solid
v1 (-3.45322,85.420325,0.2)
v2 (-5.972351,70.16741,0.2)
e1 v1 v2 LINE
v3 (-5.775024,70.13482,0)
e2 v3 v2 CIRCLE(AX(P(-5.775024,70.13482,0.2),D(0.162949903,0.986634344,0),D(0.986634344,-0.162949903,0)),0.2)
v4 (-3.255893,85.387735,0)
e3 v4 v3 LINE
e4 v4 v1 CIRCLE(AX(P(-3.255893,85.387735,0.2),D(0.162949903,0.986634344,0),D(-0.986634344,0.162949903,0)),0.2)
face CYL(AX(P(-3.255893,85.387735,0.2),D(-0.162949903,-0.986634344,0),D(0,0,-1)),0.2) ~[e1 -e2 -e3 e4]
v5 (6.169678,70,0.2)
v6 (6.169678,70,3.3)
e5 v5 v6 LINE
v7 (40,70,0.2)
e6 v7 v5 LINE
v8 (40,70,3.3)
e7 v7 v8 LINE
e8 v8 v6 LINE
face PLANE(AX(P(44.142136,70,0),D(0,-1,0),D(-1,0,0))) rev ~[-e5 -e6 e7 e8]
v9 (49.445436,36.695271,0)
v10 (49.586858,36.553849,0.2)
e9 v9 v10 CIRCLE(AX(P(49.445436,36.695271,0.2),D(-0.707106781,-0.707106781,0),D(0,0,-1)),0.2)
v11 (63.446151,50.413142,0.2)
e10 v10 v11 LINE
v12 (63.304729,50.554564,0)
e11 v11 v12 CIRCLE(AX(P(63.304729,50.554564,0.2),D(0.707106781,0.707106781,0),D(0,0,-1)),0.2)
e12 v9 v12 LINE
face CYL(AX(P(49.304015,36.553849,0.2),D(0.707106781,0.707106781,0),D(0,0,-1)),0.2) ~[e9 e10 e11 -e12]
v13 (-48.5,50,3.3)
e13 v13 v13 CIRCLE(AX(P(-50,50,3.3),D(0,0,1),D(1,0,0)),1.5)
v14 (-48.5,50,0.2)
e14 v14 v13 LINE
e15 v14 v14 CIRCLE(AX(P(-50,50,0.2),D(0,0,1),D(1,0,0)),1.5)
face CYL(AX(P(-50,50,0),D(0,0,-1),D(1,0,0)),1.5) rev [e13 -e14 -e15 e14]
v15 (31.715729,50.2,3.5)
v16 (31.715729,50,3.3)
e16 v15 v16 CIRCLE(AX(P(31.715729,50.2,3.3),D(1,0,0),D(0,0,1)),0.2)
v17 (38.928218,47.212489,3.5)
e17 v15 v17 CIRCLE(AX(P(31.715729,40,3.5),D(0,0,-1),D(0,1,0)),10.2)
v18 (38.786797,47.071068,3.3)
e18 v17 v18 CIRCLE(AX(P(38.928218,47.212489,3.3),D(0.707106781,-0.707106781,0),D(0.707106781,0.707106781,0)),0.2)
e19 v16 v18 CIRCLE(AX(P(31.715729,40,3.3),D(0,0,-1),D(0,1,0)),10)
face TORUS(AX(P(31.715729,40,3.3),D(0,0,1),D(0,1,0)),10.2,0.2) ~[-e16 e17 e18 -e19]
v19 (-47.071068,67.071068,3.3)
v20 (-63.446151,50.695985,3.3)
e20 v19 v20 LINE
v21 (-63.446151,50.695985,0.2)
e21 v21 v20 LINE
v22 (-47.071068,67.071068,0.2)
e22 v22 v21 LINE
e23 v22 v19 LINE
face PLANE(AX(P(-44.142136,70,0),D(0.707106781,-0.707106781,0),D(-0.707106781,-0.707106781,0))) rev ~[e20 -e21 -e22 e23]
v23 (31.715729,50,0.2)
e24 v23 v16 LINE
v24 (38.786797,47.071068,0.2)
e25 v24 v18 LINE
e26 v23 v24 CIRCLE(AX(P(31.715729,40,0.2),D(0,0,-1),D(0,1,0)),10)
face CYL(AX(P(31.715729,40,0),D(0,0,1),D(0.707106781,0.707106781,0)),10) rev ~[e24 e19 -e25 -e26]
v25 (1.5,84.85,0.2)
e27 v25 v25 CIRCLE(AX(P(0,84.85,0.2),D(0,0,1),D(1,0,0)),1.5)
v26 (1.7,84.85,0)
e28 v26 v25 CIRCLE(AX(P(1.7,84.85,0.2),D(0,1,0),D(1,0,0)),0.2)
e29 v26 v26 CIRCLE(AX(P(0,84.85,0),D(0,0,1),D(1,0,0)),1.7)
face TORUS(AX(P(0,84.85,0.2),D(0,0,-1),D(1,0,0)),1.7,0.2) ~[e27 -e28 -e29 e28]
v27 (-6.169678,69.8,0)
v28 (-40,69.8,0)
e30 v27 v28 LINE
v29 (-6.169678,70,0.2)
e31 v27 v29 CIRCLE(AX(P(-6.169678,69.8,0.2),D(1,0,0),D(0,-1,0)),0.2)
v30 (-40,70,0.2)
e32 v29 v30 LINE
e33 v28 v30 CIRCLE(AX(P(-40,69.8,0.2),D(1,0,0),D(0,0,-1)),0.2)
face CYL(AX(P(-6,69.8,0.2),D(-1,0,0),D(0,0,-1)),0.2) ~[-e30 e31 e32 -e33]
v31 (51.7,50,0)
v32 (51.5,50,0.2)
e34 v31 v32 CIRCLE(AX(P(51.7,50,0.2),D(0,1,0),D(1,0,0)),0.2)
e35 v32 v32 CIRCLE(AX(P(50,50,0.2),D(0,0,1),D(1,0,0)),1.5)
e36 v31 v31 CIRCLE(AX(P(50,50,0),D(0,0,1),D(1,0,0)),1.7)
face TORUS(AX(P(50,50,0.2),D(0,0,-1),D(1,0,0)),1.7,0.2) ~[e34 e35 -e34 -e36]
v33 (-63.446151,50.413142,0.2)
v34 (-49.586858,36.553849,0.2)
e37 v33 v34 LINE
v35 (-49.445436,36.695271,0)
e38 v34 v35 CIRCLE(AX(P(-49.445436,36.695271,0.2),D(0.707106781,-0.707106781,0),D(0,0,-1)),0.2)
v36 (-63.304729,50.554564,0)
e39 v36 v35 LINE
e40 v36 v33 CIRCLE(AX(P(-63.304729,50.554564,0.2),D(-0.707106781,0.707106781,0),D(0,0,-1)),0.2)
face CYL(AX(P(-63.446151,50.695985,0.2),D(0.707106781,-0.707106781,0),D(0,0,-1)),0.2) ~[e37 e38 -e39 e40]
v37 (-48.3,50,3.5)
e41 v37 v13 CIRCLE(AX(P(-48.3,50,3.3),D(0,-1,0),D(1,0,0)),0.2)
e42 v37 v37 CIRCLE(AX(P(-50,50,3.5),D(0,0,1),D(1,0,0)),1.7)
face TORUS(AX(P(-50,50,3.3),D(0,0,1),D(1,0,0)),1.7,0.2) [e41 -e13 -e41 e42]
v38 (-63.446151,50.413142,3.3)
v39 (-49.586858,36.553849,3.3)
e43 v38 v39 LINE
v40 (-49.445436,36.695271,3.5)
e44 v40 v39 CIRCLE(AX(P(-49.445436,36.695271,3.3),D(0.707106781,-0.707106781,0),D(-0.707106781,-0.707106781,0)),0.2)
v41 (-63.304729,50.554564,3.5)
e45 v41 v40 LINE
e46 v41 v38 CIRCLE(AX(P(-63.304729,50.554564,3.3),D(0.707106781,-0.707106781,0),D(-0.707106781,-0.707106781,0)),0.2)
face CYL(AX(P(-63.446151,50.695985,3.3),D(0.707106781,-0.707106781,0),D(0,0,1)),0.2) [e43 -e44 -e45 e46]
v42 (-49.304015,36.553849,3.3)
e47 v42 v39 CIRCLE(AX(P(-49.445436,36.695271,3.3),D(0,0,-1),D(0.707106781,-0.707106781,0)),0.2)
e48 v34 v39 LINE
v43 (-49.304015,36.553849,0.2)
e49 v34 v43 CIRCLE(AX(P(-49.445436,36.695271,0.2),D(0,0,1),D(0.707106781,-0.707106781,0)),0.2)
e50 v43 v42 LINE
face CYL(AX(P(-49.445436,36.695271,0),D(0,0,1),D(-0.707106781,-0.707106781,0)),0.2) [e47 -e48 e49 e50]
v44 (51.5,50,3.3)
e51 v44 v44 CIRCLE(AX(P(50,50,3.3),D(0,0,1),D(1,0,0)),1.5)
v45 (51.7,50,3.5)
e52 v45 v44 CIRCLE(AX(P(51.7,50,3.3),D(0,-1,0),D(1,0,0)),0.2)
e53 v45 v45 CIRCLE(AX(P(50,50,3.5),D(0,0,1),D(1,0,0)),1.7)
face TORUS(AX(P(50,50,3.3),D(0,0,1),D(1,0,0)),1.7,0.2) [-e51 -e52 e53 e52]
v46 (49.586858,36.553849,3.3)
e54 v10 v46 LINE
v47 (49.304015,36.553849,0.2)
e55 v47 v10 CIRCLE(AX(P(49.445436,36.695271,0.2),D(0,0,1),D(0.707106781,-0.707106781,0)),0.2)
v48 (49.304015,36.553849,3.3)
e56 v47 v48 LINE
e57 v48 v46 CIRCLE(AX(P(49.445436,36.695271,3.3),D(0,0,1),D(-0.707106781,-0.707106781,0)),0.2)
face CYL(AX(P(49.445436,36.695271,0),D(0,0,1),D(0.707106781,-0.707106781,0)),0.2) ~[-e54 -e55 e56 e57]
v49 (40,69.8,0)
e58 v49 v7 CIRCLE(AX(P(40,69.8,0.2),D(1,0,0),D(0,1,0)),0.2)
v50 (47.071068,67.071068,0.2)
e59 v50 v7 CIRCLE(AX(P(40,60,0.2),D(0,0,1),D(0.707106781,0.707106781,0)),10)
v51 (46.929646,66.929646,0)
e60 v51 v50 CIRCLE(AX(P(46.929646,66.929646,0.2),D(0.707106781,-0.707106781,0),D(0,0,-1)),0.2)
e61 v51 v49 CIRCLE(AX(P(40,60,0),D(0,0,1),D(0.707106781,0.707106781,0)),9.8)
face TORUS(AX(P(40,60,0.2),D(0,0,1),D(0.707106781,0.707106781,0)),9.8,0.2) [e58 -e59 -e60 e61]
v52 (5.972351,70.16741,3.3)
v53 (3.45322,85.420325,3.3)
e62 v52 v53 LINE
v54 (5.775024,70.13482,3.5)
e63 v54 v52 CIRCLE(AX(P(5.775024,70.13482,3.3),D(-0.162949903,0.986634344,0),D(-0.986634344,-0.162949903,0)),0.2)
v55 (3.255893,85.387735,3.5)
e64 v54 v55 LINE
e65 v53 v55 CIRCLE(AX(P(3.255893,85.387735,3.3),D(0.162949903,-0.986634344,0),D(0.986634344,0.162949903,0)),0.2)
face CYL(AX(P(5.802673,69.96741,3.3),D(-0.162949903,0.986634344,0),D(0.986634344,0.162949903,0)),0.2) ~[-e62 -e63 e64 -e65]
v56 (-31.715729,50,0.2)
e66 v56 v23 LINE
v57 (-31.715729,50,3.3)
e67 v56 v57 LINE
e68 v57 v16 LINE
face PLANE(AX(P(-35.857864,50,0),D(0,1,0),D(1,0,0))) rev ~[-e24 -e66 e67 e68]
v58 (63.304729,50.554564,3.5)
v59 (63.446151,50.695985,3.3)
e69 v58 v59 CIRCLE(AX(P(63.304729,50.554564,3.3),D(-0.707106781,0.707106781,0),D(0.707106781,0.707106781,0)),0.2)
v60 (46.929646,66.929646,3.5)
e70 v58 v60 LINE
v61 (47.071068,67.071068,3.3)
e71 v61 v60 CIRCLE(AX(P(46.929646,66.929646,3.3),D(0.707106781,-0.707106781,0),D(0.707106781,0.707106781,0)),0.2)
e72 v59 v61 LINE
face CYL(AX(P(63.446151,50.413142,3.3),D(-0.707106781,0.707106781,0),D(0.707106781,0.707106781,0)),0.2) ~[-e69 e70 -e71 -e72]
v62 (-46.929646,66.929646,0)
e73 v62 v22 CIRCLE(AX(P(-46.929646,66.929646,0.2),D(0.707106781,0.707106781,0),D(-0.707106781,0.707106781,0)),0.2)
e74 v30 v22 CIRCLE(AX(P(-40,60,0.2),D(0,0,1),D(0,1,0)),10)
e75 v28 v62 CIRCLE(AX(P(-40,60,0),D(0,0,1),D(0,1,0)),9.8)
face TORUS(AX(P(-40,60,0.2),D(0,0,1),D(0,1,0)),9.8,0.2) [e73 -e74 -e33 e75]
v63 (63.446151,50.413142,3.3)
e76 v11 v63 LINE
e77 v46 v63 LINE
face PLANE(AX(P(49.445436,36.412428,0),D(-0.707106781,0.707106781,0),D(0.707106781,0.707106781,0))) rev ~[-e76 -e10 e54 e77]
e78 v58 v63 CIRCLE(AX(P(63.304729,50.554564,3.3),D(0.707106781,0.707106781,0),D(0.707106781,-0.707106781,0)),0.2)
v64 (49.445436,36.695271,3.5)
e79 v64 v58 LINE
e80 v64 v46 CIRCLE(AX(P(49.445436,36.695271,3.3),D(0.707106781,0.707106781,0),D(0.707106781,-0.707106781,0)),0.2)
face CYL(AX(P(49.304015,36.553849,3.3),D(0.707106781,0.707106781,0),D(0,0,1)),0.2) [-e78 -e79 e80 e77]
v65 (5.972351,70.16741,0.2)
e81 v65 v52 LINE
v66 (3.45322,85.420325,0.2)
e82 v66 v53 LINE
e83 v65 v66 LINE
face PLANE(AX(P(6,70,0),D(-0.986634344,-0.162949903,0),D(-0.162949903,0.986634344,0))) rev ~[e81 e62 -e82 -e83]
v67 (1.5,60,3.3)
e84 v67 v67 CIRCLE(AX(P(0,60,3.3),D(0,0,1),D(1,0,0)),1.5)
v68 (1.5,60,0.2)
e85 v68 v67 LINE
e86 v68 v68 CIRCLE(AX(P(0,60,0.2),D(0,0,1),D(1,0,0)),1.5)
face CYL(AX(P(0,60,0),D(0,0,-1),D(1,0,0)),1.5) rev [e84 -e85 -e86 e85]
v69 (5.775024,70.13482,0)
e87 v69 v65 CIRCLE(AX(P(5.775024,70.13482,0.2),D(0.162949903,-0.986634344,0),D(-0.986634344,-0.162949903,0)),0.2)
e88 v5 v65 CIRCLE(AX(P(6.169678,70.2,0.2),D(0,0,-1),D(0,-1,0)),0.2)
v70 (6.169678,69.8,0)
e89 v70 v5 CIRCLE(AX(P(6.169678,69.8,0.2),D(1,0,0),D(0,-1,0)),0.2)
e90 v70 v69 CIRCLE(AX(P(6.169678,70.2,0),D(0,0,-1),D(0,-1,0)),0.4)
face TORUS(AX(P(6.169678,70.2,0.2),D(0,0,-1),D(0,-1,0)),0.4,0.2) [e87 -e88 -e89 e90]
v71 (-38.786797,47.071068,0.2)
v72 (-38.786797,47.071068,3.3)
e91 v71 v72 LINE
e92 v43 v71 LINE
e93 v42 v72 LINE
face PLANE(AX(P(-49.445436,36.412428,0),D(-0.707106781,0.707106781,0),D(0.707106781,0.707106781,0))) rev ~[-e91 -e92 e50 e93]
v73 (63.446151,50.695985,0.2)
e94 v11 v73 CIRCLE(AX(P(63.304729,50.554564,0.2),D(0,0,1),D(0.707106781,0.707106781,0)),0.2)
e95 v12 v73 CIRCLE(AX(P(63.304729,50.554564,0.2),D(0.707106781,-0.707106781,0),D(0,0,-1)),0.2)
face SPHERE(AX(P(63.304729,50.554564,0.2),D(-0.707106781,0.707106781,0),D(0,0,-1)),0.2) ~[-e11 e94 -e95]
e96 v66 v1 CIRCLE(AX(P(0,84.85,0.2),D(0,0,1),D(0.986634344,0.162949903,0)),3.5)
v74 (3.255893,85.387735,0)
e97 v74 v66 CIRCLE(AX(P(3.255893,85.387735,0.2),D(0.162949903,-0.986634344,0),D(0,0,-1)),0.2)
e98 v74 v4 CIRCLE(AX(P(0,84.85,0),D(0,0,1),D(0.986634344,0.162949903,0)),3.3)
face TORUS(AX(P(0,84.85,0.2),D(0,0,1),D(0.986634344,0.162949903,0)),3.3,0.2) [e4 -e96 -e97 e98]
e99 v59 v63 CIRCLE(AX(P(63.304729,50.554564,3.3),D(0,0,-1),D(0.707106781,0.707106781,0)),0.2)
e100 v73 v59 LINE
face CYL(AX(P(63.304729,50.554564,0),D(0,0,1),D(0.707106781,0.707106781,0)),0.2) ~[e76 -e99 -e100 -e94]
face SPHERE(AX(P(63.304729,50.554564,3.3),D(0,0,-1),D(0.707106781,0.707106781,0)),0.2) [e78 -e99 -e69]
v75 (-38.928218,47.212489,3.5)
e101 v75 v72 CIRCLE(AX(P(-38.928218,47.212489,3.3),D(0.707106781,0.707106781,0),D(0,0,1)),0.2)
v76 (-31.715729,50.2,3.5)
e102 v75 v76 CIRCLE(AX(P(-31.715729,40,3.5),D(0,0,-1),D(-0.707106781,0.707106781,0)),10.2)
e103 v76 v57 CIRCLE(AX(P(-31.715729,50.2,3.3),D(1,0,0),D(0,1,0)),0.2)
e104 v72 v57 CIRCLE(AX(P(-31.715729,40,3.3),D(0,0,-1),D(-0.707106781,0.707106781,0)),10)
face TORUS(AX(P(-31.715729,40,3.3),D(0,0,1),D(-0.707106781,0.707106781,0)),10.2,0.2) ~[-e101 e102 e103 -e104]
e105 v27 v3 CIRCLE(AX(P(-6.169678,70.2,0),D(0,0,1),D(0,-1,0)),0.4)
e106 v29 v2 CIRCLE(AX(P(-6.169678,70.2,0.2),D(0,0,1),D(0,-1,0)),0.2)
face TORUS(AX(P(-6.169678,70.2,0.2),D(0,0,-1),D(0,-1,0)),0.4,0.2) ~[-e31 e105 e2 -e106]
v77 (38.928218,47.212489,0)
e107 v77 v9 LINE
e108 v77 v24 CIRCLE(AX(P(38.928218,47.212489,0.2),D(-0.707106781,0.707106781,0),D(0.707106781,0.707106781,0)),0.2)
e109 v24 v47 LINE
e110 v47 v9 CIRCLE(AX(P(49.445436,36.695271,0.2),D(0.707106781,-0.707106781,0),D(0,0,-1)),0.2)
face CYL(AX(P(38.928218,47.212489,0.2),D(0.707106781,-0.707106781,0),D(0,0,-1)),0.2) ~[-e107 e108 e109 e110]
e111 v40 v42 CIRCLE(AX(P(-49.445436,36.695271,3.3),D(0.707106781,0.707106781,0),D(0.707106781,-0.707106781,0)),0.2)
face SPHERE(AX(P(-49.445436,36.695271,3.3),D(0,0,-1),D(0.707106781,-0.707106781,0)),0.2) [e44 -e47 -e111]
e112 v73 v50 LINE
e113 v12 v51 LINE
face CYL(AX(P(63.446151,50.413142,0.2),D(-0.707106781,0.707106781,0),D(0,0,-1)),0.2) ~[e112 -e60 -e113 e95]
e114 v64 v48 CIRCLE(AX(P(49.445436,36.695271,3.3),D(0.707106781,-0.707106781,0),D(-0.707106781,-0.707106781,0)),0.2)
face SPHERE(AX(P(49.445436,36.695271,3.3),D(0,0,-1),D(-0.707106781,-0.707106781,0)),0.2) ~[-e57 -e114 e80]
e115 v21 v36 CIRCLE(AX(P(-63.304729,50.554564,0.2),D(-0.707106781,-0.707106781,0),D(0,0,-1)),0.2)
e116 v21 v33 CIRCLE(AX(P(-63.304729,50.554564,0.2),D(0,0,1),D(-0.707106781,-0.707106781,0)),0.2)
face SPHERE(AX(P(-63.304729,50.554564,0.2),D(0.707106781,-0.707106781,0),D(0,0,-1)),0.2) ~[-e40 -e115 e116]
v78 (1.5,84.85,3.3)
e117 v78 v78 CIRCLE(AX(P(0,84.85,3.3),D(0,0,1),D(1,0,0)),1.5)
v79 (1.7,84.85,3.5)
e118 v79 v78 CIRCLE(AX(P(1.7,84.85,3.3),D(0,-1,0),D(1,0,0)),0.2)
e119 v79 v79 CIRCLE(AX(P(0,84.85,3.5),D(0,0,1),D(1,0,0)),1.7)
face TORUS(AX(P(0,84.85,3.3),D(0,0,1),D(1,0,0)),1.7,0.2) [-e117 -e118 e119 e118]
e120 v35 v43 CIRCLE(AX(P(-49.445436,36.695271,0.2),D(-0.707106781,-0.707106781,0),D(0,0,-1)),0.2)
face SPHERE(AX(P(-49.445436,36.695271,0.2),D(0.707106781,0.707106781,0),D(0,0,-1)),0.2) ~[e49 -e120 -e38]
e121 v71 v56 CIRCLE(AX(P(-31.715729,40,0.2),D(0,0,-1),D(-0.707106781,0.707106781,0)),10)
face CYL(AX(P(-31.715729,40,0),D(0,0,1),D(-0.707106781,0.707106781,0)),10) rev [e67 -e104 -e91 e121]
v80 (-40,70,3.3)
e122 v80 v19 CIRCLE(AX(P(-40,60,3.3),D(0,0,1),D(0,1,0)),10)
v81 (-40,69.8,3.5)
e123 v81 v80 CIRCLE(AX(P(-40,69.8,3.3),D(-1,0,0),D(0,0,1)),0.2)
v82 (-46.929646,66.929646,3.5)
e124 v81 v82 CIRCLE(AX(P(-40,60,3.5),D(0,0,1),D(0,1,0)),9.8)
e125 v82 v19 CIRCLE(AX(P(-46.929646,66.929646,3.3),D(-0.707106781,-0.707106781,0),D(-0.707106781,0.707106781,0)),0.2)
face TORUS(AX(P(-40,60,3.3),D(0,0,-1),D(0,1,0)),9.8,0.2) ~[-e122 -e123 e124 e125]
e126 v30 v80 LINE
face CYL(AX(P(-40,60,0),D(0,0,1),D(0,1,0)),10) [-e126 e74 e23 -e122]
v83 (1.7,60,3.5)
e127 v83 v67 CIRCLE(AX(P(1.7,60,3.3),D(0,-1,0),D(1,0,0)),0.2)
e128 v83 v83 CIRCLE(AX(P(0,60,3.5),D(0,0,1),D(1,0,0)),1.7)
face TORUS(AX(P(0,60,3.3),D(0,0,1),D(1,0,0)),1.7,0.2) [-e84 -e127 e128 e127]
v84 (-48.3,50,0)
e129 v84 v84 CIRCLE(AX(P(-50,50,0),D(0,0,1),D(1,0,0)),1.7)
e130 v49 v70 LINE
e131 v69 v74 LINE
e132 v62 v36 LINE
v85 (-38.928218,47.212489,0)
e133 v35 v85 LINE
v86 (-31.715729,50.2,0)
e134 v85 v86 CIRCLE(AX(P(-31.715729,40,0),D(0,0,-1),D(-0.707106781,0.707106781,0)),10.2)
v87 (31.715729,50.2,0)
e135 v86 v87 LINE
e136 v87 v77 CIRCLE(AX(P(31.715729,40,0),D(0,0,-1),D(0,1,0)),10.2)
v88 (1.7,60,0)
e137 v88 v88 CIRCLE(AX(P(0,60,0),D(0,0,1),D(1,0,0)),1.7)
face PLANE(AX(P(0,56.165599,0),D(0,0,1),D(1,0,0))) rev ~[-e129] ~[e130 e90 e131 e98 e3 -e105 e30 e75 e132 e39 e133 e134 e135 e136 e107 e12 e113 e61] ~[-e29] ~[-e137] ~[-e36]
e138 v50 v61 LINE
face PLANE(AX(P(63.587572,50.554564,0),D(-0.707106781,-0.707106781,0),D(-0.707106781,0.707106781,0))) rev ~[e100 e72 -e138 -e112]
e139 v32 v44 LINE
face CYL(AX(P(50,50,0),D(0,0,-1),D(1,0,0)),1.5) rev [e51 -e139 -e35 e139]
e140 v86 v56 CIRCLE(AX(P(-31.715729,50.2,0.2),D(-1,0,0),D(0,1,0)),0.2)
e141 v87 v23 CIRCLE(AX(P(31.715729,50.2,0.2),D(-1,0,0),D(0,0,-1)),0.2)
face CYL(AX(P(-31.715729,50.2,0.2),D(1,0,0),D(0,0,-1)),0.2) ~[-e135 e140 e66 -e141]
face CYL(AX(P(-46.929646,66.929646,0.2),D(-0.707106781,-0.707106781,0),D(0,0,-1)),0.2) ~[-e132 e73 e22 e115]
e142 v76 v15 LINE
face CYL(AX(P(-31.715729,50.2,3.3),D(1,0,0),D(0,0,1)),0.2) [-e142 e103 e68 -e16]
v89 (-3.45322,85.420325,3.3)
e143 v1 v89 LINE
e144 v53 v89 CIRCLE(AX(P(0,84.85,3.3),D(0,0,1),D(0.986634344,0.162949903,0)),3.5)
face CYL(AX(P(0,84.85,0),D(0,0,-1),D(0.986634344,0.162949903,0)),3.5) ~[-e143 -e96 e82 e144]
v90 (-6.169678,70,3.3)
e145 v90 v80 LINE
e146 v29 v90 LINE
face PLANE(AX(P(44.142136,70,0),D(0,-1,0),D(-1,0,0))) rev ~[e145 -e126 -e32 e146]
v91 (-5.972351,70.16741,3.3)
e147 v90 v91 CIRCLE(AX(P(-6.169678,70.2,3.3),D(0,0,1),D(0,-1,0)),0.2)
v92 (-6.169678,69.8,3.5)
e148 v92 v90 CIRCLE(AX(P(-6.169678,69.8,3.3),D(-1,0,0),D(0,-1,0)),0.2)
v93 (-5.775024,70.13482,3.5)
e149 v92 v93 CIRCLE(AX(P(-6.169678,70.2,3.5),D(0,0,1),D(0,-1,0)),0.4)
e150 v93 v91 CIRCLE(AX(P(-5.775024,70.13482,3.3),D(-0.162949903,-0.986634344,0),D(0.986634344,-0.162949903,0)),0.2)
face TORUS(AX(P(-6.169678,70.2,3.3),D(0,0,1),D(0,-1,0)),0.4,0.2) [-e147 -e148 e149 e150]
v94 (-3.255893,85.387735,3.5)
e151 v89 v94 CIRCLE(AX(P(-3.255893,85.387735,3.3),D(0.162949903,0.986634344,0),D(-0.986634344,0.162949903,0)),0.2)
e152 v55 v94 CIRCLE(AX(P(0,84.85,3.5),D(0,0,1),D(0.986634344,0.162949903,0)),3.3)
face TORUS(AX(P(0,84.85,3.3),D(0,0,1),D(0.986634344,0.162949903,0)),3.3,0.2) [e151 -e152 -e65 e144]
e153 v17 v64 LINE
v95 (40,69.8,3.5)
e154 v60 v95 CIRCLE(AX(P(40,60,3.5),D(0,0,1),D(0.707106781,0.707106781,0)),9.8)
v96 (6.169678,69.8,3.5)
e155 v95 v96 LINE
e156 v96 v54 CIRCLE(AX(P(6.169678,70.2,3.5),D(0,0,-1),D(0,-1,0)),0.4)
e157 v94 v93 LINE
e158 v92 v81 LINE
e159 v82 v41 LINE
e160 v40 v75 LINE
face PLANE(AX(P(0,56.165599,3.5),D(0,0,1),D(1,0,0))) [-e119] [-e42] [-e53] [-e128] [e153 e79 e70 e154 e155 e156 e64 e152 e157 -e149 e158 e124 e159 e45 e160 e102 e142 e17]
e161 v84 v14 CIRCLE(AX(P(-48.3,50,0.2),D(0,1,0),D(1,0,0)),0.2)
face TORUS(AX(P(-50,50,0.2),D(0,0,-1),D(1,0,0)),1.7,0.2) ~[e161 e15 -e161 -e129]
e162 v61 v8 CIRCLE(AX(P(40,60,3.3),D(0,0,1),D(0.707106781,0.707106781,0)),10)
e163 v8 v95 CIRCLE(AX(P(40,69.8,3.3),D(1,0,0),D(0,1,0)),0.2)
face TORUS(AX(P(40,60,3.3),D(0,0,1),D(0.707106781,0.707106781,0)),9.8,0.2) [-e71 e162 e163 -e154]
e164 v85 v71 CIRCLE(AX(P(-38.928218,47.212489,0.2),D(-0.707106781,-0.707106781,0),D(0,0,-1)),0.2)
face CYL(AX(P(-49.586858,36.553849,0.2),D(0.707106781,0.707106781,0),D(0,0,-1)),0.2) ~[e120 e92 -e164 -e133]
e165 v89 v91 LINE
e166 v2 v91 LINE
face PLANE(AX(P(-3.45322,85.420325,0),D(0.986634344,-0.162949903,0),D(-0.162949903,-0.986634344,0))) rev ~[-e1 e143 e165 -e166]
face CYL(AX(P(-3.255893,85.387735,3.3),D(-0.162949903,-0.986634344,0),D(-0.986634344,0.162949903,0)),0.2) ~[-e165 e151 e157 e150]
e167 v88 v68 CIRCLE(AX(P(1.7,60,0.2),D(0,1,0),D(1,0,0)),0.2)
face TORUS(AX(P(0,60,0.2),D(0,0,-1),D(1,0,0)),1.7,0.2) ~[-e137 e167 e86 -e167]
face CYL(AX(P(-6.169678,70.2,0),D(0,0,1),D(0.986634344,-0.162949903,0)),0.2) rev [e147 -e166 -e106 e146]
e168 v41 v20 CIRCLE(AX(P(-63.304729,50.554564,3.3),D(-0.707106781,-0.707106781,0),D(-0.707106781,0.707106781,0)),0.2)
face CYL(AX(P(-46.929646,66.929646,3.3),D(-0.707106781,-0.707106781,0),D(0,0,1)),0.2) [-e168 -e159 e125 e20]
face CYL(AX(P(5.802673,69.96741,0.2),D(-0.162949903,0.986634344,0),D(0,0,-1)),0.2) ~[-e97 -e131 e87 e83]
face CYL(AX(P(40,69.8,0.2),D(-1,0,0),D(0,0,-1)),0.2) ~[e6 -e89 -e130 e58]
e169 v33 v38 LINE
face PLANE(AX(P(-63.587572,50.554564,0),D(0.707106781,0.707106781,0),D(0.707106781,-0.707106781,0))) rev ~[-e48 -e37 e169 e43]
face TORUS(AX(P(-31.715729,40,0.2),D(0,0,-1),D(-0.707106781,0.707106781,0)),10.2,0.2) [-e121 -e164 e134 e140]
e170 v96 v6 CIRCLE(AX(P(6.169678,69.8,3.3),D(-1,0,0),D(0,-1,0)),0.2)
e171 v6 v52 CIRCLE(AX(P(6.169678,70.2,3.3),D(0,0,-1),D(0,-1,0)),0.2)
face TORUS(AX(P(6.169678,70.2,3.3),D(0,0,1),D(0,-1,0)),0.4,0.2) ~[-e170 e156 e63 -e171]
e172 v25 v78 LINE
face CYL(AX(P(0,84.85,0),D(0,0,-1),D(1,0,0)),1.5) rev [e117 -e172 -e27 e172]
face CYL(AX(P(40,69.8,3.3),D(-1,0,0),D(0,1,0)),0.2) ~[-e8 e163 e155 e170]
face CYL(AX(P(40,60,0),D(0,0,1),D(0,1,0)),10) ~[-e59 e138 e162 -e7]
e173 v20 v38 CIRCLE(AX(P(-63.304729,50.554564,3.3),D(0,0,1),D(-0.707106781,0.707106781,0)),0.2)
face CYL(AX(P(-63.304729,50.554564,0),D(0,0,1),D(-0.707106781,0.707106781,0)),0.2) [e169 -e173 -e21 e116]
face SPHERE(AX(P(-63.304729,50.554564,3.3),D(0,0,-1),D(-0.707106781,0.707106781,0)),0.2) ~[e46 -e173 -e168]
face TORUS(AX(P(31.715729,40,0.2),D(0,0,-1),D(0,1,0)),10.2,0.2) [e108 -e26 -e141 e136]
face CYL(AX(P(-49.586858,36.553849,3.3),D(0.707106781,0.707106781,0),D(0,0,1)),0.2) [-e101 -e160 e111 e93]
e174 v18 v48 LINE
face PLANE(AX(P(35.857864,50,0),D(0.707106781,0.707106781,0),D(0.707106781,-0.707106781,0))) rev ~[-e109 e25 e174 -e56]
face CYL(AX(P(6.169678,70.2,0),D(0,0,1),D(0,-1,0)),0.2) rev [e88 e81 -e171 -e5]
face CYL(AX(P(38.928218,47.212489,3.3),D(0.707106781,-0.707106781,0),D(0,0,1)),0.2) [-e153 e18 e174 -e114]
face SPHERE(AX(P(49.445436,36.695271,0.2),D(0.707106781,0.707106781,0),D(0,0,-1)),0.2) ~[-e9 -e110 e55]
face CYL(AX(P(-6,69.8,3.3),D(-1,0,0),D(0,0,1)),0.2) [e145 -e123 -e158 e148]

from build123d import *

# Parameters (mm, degrees)
SKETCH6_R           = 1.5
BOSS_EXTRUDE1_DEPTH = 3.5
FILLET1_R           = 10
FILLET2_R           = 0.2


with BuildPart() as part:
    # Sketch6 → Boss-Extrude1 (new body)
    # profile 1 of 2: a face of its own
    with BuildSketch(Plane.XY):
        with BuildLine():
            Line((-6, 70), (6, 70))
            Line((6, 70), (3.453220204, 85.420324662))
            ThreePointArc((3.453220204, 85.420324662), (0, 88.35), (-3.453220204, 85.420324662))
            Line((-3.453220204, 85.420324662), (-6, 70))
        make_face()
        with Locations((0, 84.85)):
            Circle(SKETCH6_R, mode=Mode.SUBTRACT)
    # profile 2 of 2: a face of its own
    with BuildSketch(Plane.XY):
        Polygon((44.142135624, 70), (6, 70), (-6, 70), (-44.142135624, 70), (-63.587572106, 50.554563517), (-49.445436483, 36.412427894), (-35.857864376, 50), (35.857864376, 50), (49.445436483, 36.412427894), (63.587572106, 50.554563517), align=None)
        with Locations((-50, 50)):
            Circle(SKETCH6_R, mode=Mode.SUBTRACT)
        with Locations((0, 60)):
            Circle(SKETCH6_R, mode=Mode.SUBTRACT)
        with Locations((50, 50)):
            Circle(SKETCH6_R, mode=Mode.SUBTRACT)
    extrude(amount=BOSS_EXTRUDE1_DEPTH)

    # Fillet1
    fillet1_edges = [part.edges().sort_by_distance(p)[0] for p in [
        (44.142135624, 70, 1.75),
        (35.857864376, 50, 1.75),
        (-35.857864376, 50, 1.75),
        (-44.142135624, 70, 1.75),
    ]]
    fillet(fillet1_edges, radius=FILLET1_R)

    # Fillet2
    fillet2_edges = [part.edges().sort_by_distance(p)[0] for p in [
        (48.5, 50, 3.5),
        (-1.5, 84.85, 3.5),
        (55.329319959, 58.812815665, 0),
        (56.516504294, 43.483495706, 0),
        (-1.5, 60, 3.5),
        (-44.116116524, 41.741747853, 0),
        (-56.516504294, 43.483495706, 0),
        (-23, 70, 0),
        (-4.726610102, 77.710162331, 0),
        (0, 88.35, 0),
        (4.726610102, 77.710162331, 0),
        (-51.5, 50, 0),
        (-51.5, 50, 3.5),
        (-1.5, 60, 0),
        (-1.5, 84.85, 0),
        (48.5, 50, 0),
        (4.726610102, 77.710162331, 3.5),
        (6, 70, 1.75),
        (63.587572106, 50.554563517, 1.75),
        (49.445436483, 36.412427894, 1.75),
        (-49.445436483, 36.412427894, 1.75),
        (-63.587572106, 50.554563517, 1.75),
        (-6, 70, 1.75),
        (0, 88.35, 3.5),
        (-4.726610102, 77.710162331, 3.5),
        (-23, 70, 3.5),
        (44.116116524, 41.741747853, 0),
        (44.116116524, 41.741747853, 3.5),
        (0, 50, 0),
        (0, 50, 3.5),
        (-56.516504294, 43.483495706, 3.5),
        (23, 70, 0),
        (23, 70, 3.5),
        (-55.329319959, 58.812815665, 0),
        (-43.826834324, 69.238795325, 0),
        (43.826834324, 69.238795325, 0),
        (-44.116116524, 41.741747853, 3.5),
        (-55.329319959, 58.812815665, 3.5),
        (-43.826834324, 69.238795325, 3.5),
        (43.826834324, 69.238795325, 3.5),
        (35.542563076, 49.238795325, 0),
        (35.542563076, 49.238795325, 3.5),
        (-35.542563076, 49.238795325, 0),
        (-35.542563076, 49.238795325, 3.5),
        (56.516504294, 43.483495706, 3.5),
        (55.329319959, 58.812815665, 3.5),
    ]]
    fillet(fillet2_edges, radius=FILLET2_R)


solid = part.part
